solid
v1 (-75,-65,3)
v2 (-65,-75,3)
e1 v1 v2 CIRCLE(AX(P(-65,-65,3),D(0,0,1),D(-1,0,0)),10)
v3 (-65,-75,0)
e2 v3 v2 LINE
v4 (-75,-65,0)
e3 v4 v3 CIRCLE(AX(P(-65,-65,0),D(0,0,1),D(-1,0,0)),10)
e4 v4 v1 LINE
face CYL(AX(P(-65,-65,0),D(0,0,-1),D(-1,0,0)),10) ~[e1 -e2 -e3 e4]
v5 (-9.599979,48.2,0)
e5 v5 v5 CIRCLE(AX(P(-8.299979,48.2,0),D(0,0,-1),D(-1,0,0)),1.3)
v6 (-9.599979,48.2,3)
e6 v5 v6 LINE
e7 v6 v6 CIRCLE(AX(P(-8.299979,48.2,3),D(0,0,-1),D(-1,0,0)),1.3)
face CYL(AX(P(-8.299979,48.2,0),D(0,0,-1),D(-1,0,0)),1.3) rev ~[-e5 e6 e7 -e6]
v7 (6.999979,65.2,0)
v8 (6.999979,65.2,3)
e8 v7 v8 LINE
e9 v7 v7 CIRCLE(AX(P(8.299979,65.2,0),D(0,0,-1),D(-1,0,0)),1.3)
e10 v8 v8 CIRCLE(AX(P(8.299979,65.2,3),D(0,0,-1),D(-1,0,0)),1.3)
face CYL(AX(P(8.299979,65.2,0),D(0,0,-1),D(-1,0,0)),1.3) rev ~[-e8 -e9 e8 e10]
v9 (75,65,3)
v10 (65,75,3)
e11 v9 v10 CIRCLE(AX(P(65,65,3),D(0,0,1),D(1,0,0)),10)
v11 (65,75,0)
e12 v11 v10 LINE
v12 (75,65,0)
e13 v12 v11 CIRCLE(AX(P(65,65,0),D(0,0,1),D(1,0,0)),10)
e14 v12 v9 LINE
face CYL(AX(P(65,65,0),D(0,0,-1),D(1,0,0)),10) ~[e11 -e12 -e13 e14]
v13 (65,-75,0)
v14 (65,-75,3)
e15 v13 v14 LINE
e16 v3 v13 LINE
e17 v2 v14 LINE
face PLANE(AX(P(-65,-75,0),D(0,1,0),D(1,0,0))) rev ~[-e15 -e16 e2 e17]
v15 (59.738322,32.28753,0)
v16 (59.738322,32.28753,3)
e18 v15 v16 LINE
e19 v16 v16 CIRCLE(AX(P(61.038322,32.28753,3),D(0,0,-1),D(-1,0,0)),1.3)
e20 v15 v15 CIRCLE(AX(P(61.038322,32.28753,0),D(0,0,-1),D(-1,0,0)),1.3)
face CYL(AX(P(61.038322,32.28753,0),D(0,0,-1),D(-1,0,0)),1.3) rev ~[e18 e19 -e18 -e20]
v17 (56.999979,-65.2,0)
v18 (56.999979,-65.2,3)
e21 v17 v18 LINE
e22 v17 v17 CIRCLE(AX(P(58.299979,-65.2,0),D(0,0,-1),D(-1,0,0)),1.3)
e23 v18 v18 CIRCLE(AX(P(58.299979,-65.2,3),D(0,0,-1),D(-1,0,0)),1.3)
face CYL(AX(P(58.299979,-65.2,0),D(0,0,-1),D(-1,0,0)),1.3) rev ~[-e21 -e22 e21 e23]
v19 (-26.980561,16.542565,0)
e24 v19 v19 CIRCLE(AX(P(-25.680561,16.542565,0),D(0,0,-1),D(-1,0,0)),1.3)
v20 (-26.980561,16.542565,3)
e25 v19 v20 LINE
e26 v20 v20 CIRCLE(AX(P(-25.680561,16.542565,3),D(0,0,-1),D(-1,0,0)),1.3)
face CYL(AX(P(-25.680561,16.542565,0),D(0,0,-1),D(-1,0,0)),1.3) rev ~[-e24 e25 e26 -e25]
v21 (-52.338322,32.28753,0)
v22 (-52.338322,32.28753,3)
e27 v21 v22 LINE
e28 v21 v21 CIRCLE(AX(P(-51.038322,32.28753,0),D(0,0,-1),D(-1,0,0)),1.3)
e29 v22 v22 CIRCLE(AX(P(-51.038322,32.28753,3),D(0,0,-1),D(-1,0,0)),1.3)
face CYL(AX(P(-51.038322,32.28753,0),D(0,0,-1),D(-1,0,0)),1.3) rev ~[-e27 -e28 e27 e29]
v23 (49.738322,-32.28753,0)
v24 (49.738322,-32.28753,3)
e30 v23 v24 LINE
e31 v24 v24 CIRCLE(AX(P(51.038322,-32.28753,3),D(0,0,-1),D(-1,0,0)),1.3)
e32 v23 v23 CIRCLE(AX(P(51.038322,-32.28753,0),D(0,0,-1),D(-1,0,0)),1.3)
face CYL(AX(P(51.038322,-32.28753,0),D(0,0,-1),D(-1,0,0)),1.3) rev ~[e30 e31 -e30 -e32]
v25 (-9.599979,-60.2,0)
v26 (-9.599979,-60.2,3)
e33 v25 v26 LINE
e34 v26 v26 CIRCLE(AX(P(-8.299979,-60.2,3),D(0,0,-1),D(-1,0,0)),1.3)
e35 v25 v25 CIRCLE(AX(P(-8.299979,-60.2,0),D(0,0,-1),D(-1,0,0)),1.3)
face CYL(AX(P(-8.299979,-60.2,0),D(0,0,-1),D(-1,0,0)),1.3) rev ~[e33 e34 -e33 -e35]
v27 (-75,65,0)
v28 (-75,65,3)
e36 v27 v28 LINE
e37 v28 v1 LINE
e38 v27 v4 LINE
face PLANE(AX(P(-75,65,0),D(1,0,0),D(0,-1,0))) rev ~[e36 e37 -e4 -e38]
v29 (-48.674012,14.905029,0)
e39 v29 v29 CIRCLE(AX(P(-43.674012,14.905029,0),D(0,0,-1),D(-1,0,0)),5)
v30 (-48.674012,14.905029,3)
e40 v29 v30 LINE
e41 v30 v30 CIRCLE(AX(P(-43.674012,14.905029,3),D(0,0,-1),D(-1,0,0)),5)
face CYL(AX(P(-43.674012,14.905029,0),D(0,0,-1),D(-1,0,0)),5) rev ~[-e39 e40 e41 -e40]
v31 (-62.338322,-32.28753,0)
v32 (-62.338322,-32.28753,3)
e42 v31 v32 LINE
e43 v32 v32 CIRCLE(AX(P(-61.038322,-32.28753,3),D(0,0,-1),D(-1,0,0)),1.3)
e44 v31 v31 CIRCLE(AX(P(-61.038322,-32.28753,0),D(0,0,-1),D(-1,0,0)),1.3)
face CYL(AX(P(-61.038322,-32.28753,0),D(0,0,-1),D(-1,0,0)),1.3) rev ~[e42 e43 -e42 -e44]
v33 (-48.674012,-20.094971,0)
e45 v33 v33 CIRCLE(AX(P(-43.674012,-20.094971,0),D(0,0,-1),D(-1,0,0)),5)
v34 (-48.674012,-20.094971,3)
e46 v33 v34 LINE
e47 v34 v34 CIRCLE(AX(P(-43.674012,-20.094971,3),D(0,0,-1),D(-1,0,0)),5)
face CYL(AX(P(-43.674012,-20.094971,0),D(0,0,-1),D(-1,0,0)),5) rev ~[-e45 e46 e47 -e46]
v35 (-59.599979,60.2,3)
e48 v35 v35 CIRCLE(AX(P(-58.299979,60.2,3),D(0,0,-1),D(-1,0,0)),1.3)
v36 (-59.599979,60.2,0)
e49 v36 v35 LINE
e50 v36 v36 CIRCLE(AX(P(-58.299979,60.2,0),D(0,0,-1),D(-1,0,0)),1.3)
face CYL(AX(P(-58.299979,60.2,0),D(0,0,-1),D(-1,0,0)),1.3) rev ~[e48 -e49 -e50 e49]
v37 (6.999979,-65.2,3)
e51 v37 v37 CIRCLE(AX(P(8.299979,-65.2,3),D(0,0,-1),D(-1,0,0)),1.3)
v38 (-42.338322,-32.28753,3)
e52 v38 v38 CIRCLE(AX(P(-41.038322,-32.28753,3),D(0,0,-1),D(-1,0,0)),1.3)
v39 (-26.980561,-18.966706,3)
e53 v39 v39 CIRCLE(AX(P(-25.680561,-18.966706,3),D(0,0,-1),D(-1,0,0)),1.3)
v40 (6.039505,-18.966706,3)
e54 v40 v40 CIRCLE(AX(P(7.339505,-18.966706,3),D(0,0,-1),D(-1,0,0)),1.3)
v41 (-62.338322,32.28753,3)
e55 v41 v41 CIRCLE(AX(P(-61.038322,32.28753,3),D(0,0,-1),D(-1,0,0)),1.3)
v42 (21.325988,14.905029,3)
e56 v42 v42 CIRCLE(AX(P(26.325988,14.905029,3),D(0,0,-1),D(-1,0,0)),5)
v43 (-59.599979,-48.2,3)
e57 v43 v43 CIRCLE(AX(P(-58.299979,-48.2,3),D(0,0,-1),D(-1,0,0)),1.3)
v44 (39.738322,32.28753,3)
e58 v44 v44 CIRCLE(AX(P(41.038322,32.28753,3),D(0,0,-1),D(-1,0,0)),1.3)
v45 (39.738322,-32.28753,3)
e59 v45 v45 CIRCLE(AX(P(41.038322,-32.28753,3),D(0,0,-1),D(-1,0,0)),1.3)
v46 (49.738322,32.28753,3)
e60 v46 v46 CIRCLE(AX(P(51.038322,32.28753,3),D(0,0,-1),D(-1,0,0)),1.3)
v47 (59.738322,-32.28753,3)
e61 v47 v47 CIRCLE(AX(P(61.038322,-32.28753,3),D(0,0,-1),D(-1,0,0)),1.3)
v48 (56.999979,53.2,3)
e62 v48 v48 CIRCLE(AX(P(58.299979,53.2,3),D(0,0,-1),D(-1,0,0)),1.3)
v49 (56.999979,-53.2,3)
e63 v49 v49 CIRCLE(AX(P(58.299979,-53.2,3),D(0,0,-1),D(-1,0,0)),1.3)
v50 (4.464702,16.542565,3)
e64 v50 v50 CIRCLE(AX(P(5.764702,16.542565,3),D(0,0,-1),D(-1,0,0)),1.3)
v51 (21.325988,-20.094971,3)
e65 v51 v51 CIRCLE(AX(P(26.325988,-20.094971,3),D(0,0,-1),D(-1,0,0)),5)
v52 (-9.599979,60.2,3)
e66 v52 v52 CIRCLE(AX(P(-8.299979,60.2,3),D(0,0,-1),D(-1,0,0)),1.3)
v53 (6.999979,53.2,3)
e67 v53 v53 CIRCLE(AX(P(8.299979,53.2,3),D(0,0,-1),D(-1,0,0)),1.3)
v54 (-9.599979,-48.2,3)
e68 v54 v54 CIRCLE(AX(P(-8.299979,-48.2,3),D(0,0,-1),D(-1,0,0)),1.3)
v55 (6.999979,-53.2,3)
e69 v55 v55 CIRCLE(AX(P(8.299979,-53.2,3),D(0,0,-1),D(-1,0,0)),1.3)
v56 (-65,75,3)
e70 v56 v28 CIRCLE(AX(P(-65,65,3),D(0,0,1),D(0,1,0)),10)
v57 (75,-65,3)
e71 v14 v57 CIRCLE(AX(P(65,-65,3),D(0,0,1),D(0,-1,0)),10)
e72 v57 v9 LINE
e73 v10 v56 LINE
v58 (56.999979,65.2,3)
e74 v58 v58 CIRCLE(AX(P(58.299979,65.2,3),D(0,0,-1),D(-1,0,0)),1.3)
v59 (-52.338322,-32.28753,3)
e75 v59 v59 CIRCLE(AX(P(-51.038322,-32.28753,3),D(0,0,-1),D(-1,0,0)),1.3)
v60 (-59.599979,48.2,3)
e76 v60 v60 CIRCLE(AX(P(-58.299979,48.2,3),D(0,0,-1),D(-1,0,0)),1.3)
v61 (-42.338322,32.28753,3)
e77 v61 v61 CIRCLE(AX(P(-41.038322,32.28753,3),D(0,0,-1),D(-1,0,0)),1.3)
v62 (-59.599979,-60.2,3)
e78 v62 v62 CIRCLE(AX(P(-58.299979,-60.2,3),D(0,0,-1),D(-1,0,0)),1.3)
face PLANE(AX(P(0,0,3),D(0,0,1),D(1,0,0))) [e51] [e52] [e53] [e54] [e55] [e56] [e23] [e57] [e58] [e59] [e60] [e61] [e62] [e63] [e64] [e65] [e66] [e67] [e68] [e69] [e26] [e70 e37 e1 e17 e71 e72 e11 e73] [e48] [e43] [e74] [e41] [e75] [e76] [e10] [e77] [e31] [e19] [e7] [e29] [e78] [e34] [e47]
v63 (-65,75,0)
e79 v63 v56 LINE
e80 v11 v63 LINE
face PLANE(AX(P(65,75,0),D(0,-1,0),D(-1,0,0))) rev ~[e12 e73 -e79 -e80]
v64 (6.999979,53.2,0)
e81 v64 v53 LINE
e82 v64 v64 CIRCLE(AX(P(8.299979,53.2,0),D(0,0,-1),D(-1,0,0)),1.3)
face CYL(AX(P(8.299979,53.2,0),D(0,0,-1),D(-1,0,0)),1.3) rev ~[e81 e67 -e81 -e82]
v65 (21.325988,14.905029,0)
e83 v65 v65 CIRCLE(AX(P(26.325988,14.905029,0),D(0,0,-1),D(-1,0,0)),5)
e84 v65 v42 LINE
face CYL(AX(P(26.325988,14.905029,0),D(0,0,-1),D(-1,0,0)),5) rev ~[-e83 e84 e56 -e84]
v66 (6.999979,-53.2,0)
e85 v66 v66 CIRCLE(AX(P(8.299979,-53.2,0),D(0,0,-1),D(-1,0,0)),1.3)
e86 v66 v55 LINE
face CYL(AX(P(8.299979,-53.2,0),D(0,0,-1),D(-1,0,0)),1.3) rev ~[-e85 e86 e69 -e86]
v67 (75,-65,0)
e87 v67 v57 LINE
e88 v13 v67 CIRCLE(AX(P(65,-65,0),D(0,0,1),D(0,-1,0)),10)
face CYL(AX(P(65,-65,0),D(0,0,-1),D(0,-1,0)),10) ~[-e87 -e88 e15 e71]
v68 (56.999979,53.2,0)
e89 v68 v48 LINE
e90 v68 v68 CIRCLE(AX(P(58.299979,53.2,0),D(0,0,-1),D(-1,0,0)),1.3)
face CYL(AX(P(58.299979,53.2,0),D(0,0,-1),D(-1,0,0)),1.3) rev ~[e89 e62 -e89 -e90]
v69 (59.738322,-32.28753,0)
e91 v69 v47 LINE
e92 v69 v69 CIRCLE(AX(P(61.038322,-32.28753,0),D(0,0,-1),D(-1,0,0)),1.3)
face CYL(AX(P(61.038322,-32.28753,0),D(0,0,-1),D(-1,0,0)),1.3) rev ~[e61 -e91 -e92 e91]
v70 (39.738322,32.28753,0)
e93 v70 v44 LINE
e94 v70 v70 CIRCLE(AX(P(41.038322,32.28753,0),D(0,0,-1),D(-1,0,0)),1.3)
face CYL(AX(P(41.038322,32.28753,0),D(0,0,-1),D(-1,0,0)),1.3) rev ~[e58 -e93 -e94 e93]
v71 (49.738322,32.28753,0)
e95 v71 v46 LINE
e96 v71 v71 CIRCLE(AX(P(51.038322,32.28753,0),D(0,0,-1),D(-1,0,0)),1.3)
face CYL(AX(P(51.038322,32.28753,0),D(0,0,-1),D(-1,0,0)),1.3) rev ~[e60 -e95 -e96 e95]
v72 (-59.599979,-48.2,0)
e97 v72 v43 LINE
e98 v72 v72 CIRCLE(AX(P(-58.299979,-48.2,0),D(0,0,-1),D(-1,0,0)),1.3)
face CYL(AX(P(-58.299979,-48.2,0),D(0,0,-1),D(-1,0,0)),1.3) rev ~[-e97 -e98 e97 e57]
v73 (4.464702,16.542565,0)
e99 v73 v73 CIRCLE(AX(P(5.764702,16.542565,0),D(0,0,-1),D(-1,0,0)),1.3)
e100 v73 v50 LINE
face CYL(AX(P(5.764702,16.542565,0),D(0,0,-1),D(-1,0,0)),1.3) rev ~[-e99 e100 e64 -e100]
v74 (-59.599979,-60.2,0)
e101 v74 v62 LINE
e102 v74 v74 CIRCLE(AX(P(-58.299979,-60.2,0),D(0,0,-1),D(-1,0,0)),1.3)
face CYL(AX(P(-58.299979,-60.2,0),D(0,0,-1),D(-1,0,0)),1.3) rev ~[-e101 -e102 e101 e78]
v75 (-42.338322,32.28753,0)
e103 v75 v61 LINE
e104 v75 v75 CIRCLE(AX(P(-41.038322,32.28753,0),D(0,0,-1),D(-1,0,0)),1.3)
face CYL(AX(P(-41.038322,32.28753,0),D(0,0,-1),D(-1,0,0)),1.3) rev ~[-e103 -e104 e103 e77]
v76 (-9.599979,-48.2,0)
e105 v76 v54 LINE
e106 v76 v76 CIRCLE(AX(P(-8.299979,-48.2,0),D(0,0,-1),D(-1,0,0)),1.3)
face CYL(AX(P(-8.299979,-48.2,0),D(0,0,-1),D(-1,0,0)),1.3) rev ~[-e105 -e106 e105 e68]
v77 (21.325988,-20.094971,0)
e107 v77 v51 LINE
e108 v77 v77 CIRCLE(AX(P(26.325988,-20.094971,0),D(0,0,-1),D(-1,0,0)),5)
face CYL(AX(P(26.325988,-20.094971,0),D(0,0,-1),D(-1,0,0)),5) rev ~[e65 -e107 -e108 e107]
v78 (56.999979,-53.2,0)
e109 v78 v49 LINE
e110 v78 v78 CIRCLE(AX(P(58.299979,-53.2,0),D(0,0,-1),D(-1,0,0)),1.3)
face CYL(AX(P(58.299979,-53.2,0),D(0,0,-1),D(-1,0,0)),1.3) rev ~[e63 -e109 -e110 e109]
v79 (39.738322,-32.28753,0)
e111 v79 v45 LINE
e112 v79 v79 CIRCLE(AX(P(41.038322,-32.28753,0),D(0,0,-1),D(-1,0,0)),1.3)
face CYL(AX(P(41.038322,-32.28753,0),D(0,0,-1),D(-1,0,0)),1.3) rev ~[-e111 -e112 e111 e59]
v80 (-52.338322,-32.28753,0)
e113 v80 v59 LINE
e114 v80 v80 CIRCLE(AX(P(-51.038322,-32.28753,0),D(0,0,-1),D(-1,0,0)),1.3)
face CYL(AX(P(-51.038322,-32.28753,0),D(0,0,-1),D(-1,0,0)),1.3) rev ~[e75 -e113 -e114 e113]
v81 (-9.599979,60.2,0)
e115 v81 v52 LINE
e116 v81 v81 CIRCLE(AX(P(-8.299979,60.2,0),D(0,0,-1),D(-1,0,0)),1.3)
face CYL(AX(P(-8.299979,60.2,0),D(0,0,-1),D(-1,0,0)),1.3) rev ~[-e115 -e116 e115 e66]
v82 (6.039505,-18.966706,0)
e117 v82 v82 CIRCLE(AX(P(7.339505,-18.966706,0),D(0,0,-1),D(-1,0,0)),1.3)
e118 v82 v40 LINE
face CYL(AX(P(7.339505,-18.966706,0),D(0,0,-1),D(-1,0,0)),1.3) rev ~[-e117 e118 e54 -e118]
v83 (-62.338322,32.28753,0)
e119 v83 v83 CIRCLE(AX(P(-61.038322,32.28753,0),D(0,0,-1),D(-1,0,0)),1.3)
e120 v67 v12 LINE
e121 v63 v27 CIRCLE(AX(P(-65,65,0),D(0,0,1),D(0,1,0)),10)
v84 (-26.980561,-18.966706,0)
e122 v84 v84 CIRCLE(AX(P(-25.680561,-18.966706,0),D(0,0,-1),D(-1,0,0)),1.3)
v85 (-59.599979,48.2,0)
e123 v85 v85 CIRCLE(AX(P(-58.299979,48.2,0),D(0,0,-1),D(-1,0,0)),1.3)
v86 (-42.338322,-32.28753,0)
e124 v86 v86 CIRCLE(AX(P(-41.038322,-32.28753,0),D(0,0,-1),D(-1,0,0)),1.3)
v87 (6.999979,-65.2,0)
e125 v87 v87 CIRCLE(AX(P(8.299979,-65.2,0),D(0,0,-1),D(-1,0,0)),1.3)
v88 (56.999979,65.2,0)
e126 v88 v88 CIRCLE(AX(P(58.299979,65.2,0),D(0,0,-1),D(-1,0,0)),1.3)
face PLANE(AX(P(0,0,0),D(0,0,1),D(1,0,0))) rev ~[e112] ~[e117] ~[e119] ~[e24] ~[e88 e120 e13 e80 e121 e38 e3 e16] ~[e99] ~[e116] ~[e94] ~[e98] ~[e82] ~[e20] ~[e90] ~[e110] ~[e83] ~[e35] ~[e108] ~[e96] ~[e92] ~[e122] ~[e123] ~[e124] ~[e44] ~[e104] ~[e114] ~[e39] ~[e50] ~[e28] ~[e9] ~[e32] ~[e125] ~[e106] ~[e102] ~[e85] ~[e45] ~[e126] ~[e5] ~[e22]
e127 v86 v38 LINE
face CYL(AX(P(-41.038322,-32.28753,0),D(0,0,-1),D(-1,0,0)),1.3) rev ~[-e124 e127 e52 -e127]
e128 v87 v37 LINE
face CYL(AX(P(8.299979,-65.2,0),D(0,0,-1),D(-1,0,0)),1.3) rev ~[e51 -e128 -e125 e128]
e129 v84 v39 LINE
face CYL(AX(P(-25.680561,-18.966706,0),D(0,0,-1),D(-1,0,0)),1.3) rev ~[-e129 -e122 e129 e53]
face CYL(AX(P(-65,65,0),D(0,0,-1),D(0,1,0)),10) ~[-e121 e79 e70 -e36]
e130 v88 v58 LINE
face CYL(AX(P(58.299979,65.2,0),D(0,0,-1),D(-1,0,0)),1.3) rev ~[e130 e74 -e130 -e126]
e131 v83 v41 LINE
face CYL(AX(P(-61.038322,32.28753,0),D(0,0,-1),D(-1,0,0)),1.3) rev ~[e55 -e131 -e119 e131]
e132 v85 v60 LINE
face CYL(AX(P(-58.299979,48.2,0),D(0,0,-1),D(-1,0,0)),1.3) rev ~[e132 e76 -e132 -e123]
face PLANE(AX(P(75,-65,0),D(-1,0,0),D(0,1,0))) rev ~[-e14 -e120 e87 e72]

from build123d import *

# Parameters (mm, degrees)
EXTRUDE_1_DEPTH     = 3
SKETCH_8_R          = 1.3
CUT_EXTRUDE_3_DEPTH = 3
CUT_EXTRUDE_7_REACH = 5
SKETCH_15_R         = 1.3
SKETCH_15_R_2       = 5


with BuildPart() as part:
    # 草图1 → 凸台-拉伸1 (new body)
    with BuildSketch(Plane.XY):
        with BuildLine():
            Line((-65, -75), (65, -75))
            ThreePointArc((65, -75), (72.071067812, -72.071067812), (75, -65))
            Line((75, -65), (75, 65))
            ThreePointArc((75, 65), (72.071067812, 72.071067812), (65, 75))
            Line((65, 75), (-65, 75))
            ThreePointArc((-65, 75), (-72.071067812, 72.071067812), (-75, 65))
            Line((-75, 65), (-75, -65))
            ThreePointArc((-75, -65), (-72.071067812, -72.071067812), (-65, -75))
        make_face()
    extrude(amount=EXTRUDE_1_DEPTH)

    # 草图8 → 切除-拉伸3 (cut)
    with BuildSketch(Plane(origin=(0, 0, 0), x_dir=(-1, 0, 0), z_dir=(0, 0, -1))):
        with Locations((8.299978541, 60.2)):
            Circle(SKETCH_8_R)
        with Locations((8.299978541, 48.2)):
            Circle(SKETCH_8_R)
        with Locations((8.299978541, -48.2)):
            Circle(SKETCH_8_R)
        with Locations((8.299978541, -60.2)):
            Circle(SKETCH_8_R)
        with Locations((58.299978541, -48.2)):
            Circle(SKETCH_8_R)
        with Locations((58.299978541, -60.2)):
            Circle(SKETCH_8_R)
        with Locations((58.299978541, 60.2)):
            Circle(SKETCH_8_R)
        with Locations((58.299978541, 48.2)):
            Circle(SKETCH_8_R)
        with Locations((-58.299978541, 65.2)):
            Circle(SKETCH_8_R)
        with Locations((-58.299978541, 53.2)):
            Circle(SKETCH_8_R)
        with Locations((-8.299978541, 53.2)):
            Circle(SKETCH_8_R)
        with Locations((-8.299978541, 65.2)):
            Circle(SKETCH_8_R)
        with Locations((-8.299978541, -65.2)):
            Circle(SKETCH_8_R)
        with Locations((-8.299978541, -53.2)):
            Circle(SKETCH_8_R)
        with Locations((-58.299978541, -53.2)):
            Circle(SKETCH_8_R)
        with Locations((-58.299978541, -65.2)):
            Circle(SKETCH_8_R)
    extrude(amount=-CUT_EXTRUDE_3_DEPTH, mode=Mode.SUBTRACT)

    # 草图15 → 切除-拉伸7 (cut, up to next)
    with BuildSketch(Plane(origin=(0, 0, 0), x_dir=(-1, 0, 0), z_dir=(0, 0, -1)), mode=Mode.PRIVATE) as cut_extrude_7_sk1:
        with Locations((-5.764701549, 16.542565405)):
            Circle(SKETCH_15_R)
    cut_extrude_7_tool1 = extrude(cut_extrude_7_sk1.sketch, amount=-CUT_EXTRUDE_7_REACH, mode=Mode.PRIVATE) & part.part
    add(cut_extrude_7_tool1.solids().sort_by_distance((5.764702, 16.542565, 0))[0], mode=Mode.SUBTRACT)
    # 草图15 → 切除-拉伸7 (cut, up to next)
    with BuildSketch(Plane(origin=(0, 0, 0), x_dir=(-1, 0, 0), z_dir=(0, 0, -1)), mode=Mode.PRIVATE) as cut_extrude_7_sk2:
        with Locations((25.680561341, 16.542565405)):
            Circle(SKETCH_15_R)
    cut_extrude_7_tool2 = extrude(cut_extrude_7_sk2.sketch, amount=-CUT_EXTRUDE_7_REACH, mode=Mode.PRIVATE) & part.part
    add(cut_extrude_7_tool2.solids().sort_by_distance((-25.680561, 16.542565, 0))[0], mode=Mode.SUBTRACT)
    # 草图15 → 切除-拉伸7 (cut, up to next)
    with BuildSketch(Plane(origin=(0, 0, 0), x_dir=(-1, 0, 0), z_dir=(0, 0, -1)), mode=Mode.PRIVATE) as cut_extrude_7_sk3:
        with Locations((25.680561341, -18.966705613)):
            Circle(SKETCH_15_R)
    cut_extrude_7_tool3 = extrude(cut_extrude_7_sk3.sketch, amount=-CUT_EXTRUDE_7_REACH, mode=Mode.PRIVATE) & part.part
    add(cut_extrude_7_tool3.solids().sort_by_distance((-25.680561, -18.966706, 0))[0], mode=Mode.SUBTRACT)
    # 草图15 → 切除-拉伸7 (cut, up to next)
    with BuildSketch(Plane(origin=(0, 0, 0), x_dir=(-1, 0, 0), z_dir=(0, 0, -1)), mode=Mode.PRIVATE) as cut_extrude_7_sk4:
        with Locations((-7.339504699, -18.966705613)):
            Circle(SKETCH_15_R)
    cut_extrude_7_tool4 = extrude(cut_extrude_7_sk4.sketch, amount=-CUT_EXTRUDE_7_REACH, mode=Mode.PRIVATE) & part.part
    add(cut_extrude_7_tool4.solids().sort_by_distance((7.339505, -18.966706, 0))[0], mode=Mode.SUBTRACT)
    # 草图15 → 切除-拉伸7 (cut, up to next)
    with BuildSketch(Plane(origin=(0, 0, 0), x_dir=(-1, 0, 0), z_dir=(0, 0, -1)), mode=Mode.PRIVATE) as cut_extrude_7_sk5:
        with Locations((43.674011713, 14.90502858)):
            Circle(SKETCH_15_R_2)
    cut_extrude_7_tool5 = extrude(cut_extrude_7_sk5.sketch, amount=-CUT_EXTRUDE_7_REACH, mode=Mode.PRIVATE) & part.part
    add(cut_extrude_7_tool5.solids().sort_by_distance((-43.674012, 14.905029, 0))[0], mode=Mode.SUBTRACT)
    # 草图15 → 切除-拉伸7 (cut, up to next)
    with BuildSketch(Plane(origin=(0, 0, 0), x_dir=(-1, 0, 0), z_dir=(0, 0, -1)), mode=Mode.PRIVATE) as cut_extrude_7_sk6:
        with Locations((43.674011713, -20.09497142)):
            Circle(SKETCH_15_R_2)
    cut_extrude_7_tool6 = extrude(cut_extrude_7_sk6.sketch, amount=-CUT_EXTRUDE_7_REACH, mode=Mode.PRIVATE) & part.part
    add(cut_extrude_7_tool6.solids().sort_by_distance((-43.674012, -20.094971, 0))[0], mode=Mode.SUBTRACT)
    # 草图15 → 切除-拉伸7 (cut, up to next)
    with BuildSketch(Plane(origin=(0, 0, 0), x_dir=(-1, 0, 0), z_dir=(0, 0, -1)), mode=Mode.PRIVATE) as cut_extrude_7_sk7:
        with Locations((-26.325988287, 14.90502858)):
            Circle(SKETCH_15_R_2)
    cut_extrude_7_tool7 = extrude(cut_extrude_7_sk7.sketch, amount=-CUT_EXTRUDE_7_REACH, mode=Mode.PRIVATE) & part.part
    add(cut_extrude_7_tool7.solids().sort_by_distance((26.325988, 14.905029, 0))[0], mode=Mode.SUBTRACT)
    # 草图15 → 切除-拉伸7 (cut, up to next)
    with BuildSketch(Plane(origin=(0, 0, 0), x_dir=(-1, 0, 0), z_dir=(0, 0, -1)), mode=Mode.PRIVATE) as cut_extrude_7_sk8:
        with Locations((-26.325988287, -20.09497142)):
            Circle(SKETCH_15_R_2)
    cut_extrude_7_tool8 = extrude(cut_extrude_7_sk8.sketch, amount=-CUT_EXTRUDE_7_REACH, mode=Mode.PRIVATE) & part.part
    add(cut_extrude_7_tool8.solids().sort_by_distance((26.325988, -20.094971, 0))[0], mode=Mode.SUBTRACT)
    # 草图15 → 切除-拉伸7 (cut, up to next)
    with BuildSketch(Plane(origin=(0, 0, 0), x_dir=(-1, 0, 0), z_dir=(0, 0, -1)), mode=Mode.PRIVATE) as cut_extrude_7_sk9:
        with Locations((-51.0383219, 32.287530058)):
            Circle(SKETCH_15_R)
    cut_extrude_7_tool9 = extrude(cut_extrude_7_sk9.sketch, amount=-CUT_EXTRUDE_7_REACH, mode=Mode.PRIVATE) & part.part
    add(cut_extrude_7_tool9.solids().sort_by_distance((51.038322, 32.28753, 0))[0], mode=Mode.SUBTRACT)
    # 草图15 → 切除-拉伸7 (cut, up to next)
    with BuildSketch(Plane(origin=(0, 0, 0), x_dir=(-1, 0, 0), z_dir=(0, 0, -1)), mode=Mode.PRIVATE) as cut_extrude_7_sk10:
        with Locations((51.0383219, 32.287530058)):
            Circle(SKETCH_15_R)
    cut_extrude_7_tool10 = extrude(cut_extrude_7_sk10.sketch, amount=-CUT_EXTRUDE_7_REACH, mode=Mode.PRIVATE) & part.part
    add(cut_extrude_7_tool10.solids().sort_by_distance((-51.038322, 32.28753, 0))[0], mode=Mode.SUBTRACT)
    # 草图15 → 切除-拉伸7 (cut, up to next)
    with BuildSketch(Plane(origin=(0, 0, 0), x_dir=(-1, 0, 0), z_dir=(0, 0, -1)), mode=Mode.PRIVATE) as cut_extrude_7_sk11:
        with Locations((51.0383219, -32.287530058)):
            Circle(SKETCH_15_R)
    cut_extrude_7_tool11 = extrude(cut_extrude_7_sk11.sketch, amount=-CUT_EXTRUDE_7_REACH, mode=Mode.PRIVATE) & part.part
    add(cut_extrude_7_tool11.solids().sort_by_distance((-51.038322, -32.28753, 0))[0], mode=Mode.SUBTRACT)
    # 草图15 → 切除-拉伸7 (cut, up to next)
    with BuildSketch(Plane(origin=(0, 0, 0), x_dir=(-1, 0, 0), z_dir=(0, 0, -1)), mode=Mode.PRIVATE) as cut_extrude_7_sk12:
        with Locations((-51.0383219, -32.287530058)):
            Circle(SKETCH_15_R)
    cut_extrude_7_tool12 = extrude(cut_extrude_7_sk12.sketch, amount=-CUT_EXTRUDE_7_REACH, mode=Mode.PRIVATE) & part.part
    add(cut_extrude_7_tool12.solids().sort_by_distance((51.038322, -32.28753, 0))[0], mode=Mode.SUBTRACT)
    # 草图15 → 切除-拉伸7 (cut, up to next)
    with BuildSketch(Plane(origin=(0, 0, 0), x_dir=(-1, 0, 0), z_dir=(0, 0, -1)), mode=Mode.PRIVATE) as cut_extrude_7_sk13:
        with Locations((-41.0383219, 32.287530058)):
            Circle(SKETCH_15_R)
    cut_extrude_7_tool13 = extrude(cut_extrude_7_sk13.sketch, amount=-CUT_EXTRUDE_7_REACH, mode=Mode.PRIVATE) & part.part
    add(cut_extrude_7_tool13.solids().sort_by_distance((41.038322, 32.28753, 0))[0], mode=Mode.SUBTRACT)
    # 草图15 → 切除-拉伸7 (cut, up to next)
    with BuildSketch(Plane(origin=(0, 0, 0), x_dir=(-1, 0, 0), z_dir=(0, 0, -1)), mode=Mode.PRIVATE) as cut_extrude_7_sk14:
        with Locations((61.0383219, 32.287530058)):
            Circle(SKETCH_15_R)
    cut_extrude_7_tool14 = extrude(cut_extrude_7_sk14.sketch, amount=-CUT_EXTRUDE_7_REACH, mode=Mode.PRIVATE) & part.part
    add(cut_extrude_7_tool14.solids().sort_by_distance((-61.038322, 32.28753, 0))[0], mode=Mode.SUBTRACT)
    # 草图15 → 切除-拉伸7 (cut, up to next)
    with BuildSketch(Plane(origin=(0, 0, 0), x_dir=(-1, 0, 0), z_dir=(0, 0, -1)), mode=Mode.PRIVATE) as cut_extrude_7_sk15:
        with Locations((61.0383219, -32.287530058)):
            Circle(SKETCH_15_R)
    cut_extrude_7_tool15 = extrude(cut_extrude_7_sk15.sketch, amount=-CUT_EXTRUDE_7_REACH, mode=Mode.PRIVATE) & part.part
    add(cut_extrude_7_tool15.solids().sort_by_distance((-61.038322, -32.28753, 0))[0], mode=Mode.SUBTRACT)
    # 草图15 → 切除-拉伸7 (cut, up to next)
    with BuildSketch(Plane(origin=(0, 0, 0), x_dir=(-1, 0, 0), z_dir=(0, 0, -1)), mode=Mode.PRIVATE) as cut_extrude_7_sk16:
        with Locations((-41.0383219, -32.287530058)):
            Circle(SKETCH_15_R)
    cut_extrude_7_tool16 = extrude(cut_extrude_7_sk16.sketch, amount=-CUT_EXTRUDE_7_REACH, mode=Mode.PRIVATE) & part.part
    add(cut_extrude_7_tool16.solids().sort_by_distance((41.038322, -32.28753, 0))[0], mode=Mode.SUBTRACT)
    # 草图15 → 切除-拉伸7 (cut, up to next)
    with BuildSketch(Plane(origin=(0, 0, 0), x_dir=(-1, 0, 0), z_dir=(0, 0, -1)), mode=Mode.PRIVATE) as cut_extrude_7_sk17:
        with Locations((-61.0383219, -32.287530058)):
            Circle(SKETCH_15_R)
    cut_extrude_7_tool17 = extrude(cut_extrude_7_sk17.sketch, amount=-CUT_EXTRUDE_7_REACH, mode=Mode.PRIVATE) & part.part
    add(cut_extrude_7_tool17.solids().sort_by_distance((61.038322, -32.28753, 0))[0], mode=Mode.SUBTRACT)
    # 草图15 → 切除-拉伸7 (cut, up to next)
    with BuildSketch(Plane(origin=(0, 0, 0), x_dir=(-1, 0, 0), z_dir=(0, 0, -1)), mode=Mode.PRIVATE) as cut_extrude_7_sk18:
        with Locations((41.0383219, -32.287530058)):
            Circle(SKETCH_15_R)
    cut_extrude_7_tool18 = extrude(cut_extrude_7_sk18.sketch, amount=-CUT_EXTRUDE_7_REACH, mode=Mode.PRIVATE) & part.part
    add(cut_extrude_7_tool18.solids().sort_by_distance((-41.038322, -32.28753, 0))[0], mode=Mode.SUBTRACT)
    # 草图15 → 切除-拉伸7 (cut, up to next)
    with BuildSketch(Plane(origin=(0, 0, 0), x_dir=(-1, 0, 0), z_dir=(0, 0, -1)), mode=Mode.PRIVATE) as cut_extrude_7_sk19:
        with Locations((41.0383219, 32.287530058)):
            Circle(SKETCH_15_R)
    cut_extrude_7_tool19 = extrude(cut_extrude_7_sk19.sketch, amount=-CUT_EXTRUDE_7_REACH, mode=Mode.PRIVATE) & part.part
    add(cut_extrude_7_tool19.solids().sort_by_distance((-41.038322, 32.28753, 0))[0], mode=Mode.SUBTRACT)
    # 草图15 → 切除-拉伸7 (cut, up to next)
    with BuildSketch(Plane(origin=(0, 0, 0), x_dir=(-1, 0, 0), z_dir=(0, 0, -1)), mode=Mode.PRIVATE) as cut_extrude_7_sk20:
        with Locations((-61.0383219, 32.287530058)):
            Circle(SKETCH_15_R)
    cut_extrude_7_tool20 = extrude(cut_extrude_7_sk20.sketch, amount=-CUT_EXTRUDE_7_REACH, mode=Mode.PRIVATE) & part.part
    add(cut_extrude_7_tool20.solids().sort_by_distance((61.038322, 32.28753, 0))[0], mode=Mode.SUBTRACT)


solid = part.part
